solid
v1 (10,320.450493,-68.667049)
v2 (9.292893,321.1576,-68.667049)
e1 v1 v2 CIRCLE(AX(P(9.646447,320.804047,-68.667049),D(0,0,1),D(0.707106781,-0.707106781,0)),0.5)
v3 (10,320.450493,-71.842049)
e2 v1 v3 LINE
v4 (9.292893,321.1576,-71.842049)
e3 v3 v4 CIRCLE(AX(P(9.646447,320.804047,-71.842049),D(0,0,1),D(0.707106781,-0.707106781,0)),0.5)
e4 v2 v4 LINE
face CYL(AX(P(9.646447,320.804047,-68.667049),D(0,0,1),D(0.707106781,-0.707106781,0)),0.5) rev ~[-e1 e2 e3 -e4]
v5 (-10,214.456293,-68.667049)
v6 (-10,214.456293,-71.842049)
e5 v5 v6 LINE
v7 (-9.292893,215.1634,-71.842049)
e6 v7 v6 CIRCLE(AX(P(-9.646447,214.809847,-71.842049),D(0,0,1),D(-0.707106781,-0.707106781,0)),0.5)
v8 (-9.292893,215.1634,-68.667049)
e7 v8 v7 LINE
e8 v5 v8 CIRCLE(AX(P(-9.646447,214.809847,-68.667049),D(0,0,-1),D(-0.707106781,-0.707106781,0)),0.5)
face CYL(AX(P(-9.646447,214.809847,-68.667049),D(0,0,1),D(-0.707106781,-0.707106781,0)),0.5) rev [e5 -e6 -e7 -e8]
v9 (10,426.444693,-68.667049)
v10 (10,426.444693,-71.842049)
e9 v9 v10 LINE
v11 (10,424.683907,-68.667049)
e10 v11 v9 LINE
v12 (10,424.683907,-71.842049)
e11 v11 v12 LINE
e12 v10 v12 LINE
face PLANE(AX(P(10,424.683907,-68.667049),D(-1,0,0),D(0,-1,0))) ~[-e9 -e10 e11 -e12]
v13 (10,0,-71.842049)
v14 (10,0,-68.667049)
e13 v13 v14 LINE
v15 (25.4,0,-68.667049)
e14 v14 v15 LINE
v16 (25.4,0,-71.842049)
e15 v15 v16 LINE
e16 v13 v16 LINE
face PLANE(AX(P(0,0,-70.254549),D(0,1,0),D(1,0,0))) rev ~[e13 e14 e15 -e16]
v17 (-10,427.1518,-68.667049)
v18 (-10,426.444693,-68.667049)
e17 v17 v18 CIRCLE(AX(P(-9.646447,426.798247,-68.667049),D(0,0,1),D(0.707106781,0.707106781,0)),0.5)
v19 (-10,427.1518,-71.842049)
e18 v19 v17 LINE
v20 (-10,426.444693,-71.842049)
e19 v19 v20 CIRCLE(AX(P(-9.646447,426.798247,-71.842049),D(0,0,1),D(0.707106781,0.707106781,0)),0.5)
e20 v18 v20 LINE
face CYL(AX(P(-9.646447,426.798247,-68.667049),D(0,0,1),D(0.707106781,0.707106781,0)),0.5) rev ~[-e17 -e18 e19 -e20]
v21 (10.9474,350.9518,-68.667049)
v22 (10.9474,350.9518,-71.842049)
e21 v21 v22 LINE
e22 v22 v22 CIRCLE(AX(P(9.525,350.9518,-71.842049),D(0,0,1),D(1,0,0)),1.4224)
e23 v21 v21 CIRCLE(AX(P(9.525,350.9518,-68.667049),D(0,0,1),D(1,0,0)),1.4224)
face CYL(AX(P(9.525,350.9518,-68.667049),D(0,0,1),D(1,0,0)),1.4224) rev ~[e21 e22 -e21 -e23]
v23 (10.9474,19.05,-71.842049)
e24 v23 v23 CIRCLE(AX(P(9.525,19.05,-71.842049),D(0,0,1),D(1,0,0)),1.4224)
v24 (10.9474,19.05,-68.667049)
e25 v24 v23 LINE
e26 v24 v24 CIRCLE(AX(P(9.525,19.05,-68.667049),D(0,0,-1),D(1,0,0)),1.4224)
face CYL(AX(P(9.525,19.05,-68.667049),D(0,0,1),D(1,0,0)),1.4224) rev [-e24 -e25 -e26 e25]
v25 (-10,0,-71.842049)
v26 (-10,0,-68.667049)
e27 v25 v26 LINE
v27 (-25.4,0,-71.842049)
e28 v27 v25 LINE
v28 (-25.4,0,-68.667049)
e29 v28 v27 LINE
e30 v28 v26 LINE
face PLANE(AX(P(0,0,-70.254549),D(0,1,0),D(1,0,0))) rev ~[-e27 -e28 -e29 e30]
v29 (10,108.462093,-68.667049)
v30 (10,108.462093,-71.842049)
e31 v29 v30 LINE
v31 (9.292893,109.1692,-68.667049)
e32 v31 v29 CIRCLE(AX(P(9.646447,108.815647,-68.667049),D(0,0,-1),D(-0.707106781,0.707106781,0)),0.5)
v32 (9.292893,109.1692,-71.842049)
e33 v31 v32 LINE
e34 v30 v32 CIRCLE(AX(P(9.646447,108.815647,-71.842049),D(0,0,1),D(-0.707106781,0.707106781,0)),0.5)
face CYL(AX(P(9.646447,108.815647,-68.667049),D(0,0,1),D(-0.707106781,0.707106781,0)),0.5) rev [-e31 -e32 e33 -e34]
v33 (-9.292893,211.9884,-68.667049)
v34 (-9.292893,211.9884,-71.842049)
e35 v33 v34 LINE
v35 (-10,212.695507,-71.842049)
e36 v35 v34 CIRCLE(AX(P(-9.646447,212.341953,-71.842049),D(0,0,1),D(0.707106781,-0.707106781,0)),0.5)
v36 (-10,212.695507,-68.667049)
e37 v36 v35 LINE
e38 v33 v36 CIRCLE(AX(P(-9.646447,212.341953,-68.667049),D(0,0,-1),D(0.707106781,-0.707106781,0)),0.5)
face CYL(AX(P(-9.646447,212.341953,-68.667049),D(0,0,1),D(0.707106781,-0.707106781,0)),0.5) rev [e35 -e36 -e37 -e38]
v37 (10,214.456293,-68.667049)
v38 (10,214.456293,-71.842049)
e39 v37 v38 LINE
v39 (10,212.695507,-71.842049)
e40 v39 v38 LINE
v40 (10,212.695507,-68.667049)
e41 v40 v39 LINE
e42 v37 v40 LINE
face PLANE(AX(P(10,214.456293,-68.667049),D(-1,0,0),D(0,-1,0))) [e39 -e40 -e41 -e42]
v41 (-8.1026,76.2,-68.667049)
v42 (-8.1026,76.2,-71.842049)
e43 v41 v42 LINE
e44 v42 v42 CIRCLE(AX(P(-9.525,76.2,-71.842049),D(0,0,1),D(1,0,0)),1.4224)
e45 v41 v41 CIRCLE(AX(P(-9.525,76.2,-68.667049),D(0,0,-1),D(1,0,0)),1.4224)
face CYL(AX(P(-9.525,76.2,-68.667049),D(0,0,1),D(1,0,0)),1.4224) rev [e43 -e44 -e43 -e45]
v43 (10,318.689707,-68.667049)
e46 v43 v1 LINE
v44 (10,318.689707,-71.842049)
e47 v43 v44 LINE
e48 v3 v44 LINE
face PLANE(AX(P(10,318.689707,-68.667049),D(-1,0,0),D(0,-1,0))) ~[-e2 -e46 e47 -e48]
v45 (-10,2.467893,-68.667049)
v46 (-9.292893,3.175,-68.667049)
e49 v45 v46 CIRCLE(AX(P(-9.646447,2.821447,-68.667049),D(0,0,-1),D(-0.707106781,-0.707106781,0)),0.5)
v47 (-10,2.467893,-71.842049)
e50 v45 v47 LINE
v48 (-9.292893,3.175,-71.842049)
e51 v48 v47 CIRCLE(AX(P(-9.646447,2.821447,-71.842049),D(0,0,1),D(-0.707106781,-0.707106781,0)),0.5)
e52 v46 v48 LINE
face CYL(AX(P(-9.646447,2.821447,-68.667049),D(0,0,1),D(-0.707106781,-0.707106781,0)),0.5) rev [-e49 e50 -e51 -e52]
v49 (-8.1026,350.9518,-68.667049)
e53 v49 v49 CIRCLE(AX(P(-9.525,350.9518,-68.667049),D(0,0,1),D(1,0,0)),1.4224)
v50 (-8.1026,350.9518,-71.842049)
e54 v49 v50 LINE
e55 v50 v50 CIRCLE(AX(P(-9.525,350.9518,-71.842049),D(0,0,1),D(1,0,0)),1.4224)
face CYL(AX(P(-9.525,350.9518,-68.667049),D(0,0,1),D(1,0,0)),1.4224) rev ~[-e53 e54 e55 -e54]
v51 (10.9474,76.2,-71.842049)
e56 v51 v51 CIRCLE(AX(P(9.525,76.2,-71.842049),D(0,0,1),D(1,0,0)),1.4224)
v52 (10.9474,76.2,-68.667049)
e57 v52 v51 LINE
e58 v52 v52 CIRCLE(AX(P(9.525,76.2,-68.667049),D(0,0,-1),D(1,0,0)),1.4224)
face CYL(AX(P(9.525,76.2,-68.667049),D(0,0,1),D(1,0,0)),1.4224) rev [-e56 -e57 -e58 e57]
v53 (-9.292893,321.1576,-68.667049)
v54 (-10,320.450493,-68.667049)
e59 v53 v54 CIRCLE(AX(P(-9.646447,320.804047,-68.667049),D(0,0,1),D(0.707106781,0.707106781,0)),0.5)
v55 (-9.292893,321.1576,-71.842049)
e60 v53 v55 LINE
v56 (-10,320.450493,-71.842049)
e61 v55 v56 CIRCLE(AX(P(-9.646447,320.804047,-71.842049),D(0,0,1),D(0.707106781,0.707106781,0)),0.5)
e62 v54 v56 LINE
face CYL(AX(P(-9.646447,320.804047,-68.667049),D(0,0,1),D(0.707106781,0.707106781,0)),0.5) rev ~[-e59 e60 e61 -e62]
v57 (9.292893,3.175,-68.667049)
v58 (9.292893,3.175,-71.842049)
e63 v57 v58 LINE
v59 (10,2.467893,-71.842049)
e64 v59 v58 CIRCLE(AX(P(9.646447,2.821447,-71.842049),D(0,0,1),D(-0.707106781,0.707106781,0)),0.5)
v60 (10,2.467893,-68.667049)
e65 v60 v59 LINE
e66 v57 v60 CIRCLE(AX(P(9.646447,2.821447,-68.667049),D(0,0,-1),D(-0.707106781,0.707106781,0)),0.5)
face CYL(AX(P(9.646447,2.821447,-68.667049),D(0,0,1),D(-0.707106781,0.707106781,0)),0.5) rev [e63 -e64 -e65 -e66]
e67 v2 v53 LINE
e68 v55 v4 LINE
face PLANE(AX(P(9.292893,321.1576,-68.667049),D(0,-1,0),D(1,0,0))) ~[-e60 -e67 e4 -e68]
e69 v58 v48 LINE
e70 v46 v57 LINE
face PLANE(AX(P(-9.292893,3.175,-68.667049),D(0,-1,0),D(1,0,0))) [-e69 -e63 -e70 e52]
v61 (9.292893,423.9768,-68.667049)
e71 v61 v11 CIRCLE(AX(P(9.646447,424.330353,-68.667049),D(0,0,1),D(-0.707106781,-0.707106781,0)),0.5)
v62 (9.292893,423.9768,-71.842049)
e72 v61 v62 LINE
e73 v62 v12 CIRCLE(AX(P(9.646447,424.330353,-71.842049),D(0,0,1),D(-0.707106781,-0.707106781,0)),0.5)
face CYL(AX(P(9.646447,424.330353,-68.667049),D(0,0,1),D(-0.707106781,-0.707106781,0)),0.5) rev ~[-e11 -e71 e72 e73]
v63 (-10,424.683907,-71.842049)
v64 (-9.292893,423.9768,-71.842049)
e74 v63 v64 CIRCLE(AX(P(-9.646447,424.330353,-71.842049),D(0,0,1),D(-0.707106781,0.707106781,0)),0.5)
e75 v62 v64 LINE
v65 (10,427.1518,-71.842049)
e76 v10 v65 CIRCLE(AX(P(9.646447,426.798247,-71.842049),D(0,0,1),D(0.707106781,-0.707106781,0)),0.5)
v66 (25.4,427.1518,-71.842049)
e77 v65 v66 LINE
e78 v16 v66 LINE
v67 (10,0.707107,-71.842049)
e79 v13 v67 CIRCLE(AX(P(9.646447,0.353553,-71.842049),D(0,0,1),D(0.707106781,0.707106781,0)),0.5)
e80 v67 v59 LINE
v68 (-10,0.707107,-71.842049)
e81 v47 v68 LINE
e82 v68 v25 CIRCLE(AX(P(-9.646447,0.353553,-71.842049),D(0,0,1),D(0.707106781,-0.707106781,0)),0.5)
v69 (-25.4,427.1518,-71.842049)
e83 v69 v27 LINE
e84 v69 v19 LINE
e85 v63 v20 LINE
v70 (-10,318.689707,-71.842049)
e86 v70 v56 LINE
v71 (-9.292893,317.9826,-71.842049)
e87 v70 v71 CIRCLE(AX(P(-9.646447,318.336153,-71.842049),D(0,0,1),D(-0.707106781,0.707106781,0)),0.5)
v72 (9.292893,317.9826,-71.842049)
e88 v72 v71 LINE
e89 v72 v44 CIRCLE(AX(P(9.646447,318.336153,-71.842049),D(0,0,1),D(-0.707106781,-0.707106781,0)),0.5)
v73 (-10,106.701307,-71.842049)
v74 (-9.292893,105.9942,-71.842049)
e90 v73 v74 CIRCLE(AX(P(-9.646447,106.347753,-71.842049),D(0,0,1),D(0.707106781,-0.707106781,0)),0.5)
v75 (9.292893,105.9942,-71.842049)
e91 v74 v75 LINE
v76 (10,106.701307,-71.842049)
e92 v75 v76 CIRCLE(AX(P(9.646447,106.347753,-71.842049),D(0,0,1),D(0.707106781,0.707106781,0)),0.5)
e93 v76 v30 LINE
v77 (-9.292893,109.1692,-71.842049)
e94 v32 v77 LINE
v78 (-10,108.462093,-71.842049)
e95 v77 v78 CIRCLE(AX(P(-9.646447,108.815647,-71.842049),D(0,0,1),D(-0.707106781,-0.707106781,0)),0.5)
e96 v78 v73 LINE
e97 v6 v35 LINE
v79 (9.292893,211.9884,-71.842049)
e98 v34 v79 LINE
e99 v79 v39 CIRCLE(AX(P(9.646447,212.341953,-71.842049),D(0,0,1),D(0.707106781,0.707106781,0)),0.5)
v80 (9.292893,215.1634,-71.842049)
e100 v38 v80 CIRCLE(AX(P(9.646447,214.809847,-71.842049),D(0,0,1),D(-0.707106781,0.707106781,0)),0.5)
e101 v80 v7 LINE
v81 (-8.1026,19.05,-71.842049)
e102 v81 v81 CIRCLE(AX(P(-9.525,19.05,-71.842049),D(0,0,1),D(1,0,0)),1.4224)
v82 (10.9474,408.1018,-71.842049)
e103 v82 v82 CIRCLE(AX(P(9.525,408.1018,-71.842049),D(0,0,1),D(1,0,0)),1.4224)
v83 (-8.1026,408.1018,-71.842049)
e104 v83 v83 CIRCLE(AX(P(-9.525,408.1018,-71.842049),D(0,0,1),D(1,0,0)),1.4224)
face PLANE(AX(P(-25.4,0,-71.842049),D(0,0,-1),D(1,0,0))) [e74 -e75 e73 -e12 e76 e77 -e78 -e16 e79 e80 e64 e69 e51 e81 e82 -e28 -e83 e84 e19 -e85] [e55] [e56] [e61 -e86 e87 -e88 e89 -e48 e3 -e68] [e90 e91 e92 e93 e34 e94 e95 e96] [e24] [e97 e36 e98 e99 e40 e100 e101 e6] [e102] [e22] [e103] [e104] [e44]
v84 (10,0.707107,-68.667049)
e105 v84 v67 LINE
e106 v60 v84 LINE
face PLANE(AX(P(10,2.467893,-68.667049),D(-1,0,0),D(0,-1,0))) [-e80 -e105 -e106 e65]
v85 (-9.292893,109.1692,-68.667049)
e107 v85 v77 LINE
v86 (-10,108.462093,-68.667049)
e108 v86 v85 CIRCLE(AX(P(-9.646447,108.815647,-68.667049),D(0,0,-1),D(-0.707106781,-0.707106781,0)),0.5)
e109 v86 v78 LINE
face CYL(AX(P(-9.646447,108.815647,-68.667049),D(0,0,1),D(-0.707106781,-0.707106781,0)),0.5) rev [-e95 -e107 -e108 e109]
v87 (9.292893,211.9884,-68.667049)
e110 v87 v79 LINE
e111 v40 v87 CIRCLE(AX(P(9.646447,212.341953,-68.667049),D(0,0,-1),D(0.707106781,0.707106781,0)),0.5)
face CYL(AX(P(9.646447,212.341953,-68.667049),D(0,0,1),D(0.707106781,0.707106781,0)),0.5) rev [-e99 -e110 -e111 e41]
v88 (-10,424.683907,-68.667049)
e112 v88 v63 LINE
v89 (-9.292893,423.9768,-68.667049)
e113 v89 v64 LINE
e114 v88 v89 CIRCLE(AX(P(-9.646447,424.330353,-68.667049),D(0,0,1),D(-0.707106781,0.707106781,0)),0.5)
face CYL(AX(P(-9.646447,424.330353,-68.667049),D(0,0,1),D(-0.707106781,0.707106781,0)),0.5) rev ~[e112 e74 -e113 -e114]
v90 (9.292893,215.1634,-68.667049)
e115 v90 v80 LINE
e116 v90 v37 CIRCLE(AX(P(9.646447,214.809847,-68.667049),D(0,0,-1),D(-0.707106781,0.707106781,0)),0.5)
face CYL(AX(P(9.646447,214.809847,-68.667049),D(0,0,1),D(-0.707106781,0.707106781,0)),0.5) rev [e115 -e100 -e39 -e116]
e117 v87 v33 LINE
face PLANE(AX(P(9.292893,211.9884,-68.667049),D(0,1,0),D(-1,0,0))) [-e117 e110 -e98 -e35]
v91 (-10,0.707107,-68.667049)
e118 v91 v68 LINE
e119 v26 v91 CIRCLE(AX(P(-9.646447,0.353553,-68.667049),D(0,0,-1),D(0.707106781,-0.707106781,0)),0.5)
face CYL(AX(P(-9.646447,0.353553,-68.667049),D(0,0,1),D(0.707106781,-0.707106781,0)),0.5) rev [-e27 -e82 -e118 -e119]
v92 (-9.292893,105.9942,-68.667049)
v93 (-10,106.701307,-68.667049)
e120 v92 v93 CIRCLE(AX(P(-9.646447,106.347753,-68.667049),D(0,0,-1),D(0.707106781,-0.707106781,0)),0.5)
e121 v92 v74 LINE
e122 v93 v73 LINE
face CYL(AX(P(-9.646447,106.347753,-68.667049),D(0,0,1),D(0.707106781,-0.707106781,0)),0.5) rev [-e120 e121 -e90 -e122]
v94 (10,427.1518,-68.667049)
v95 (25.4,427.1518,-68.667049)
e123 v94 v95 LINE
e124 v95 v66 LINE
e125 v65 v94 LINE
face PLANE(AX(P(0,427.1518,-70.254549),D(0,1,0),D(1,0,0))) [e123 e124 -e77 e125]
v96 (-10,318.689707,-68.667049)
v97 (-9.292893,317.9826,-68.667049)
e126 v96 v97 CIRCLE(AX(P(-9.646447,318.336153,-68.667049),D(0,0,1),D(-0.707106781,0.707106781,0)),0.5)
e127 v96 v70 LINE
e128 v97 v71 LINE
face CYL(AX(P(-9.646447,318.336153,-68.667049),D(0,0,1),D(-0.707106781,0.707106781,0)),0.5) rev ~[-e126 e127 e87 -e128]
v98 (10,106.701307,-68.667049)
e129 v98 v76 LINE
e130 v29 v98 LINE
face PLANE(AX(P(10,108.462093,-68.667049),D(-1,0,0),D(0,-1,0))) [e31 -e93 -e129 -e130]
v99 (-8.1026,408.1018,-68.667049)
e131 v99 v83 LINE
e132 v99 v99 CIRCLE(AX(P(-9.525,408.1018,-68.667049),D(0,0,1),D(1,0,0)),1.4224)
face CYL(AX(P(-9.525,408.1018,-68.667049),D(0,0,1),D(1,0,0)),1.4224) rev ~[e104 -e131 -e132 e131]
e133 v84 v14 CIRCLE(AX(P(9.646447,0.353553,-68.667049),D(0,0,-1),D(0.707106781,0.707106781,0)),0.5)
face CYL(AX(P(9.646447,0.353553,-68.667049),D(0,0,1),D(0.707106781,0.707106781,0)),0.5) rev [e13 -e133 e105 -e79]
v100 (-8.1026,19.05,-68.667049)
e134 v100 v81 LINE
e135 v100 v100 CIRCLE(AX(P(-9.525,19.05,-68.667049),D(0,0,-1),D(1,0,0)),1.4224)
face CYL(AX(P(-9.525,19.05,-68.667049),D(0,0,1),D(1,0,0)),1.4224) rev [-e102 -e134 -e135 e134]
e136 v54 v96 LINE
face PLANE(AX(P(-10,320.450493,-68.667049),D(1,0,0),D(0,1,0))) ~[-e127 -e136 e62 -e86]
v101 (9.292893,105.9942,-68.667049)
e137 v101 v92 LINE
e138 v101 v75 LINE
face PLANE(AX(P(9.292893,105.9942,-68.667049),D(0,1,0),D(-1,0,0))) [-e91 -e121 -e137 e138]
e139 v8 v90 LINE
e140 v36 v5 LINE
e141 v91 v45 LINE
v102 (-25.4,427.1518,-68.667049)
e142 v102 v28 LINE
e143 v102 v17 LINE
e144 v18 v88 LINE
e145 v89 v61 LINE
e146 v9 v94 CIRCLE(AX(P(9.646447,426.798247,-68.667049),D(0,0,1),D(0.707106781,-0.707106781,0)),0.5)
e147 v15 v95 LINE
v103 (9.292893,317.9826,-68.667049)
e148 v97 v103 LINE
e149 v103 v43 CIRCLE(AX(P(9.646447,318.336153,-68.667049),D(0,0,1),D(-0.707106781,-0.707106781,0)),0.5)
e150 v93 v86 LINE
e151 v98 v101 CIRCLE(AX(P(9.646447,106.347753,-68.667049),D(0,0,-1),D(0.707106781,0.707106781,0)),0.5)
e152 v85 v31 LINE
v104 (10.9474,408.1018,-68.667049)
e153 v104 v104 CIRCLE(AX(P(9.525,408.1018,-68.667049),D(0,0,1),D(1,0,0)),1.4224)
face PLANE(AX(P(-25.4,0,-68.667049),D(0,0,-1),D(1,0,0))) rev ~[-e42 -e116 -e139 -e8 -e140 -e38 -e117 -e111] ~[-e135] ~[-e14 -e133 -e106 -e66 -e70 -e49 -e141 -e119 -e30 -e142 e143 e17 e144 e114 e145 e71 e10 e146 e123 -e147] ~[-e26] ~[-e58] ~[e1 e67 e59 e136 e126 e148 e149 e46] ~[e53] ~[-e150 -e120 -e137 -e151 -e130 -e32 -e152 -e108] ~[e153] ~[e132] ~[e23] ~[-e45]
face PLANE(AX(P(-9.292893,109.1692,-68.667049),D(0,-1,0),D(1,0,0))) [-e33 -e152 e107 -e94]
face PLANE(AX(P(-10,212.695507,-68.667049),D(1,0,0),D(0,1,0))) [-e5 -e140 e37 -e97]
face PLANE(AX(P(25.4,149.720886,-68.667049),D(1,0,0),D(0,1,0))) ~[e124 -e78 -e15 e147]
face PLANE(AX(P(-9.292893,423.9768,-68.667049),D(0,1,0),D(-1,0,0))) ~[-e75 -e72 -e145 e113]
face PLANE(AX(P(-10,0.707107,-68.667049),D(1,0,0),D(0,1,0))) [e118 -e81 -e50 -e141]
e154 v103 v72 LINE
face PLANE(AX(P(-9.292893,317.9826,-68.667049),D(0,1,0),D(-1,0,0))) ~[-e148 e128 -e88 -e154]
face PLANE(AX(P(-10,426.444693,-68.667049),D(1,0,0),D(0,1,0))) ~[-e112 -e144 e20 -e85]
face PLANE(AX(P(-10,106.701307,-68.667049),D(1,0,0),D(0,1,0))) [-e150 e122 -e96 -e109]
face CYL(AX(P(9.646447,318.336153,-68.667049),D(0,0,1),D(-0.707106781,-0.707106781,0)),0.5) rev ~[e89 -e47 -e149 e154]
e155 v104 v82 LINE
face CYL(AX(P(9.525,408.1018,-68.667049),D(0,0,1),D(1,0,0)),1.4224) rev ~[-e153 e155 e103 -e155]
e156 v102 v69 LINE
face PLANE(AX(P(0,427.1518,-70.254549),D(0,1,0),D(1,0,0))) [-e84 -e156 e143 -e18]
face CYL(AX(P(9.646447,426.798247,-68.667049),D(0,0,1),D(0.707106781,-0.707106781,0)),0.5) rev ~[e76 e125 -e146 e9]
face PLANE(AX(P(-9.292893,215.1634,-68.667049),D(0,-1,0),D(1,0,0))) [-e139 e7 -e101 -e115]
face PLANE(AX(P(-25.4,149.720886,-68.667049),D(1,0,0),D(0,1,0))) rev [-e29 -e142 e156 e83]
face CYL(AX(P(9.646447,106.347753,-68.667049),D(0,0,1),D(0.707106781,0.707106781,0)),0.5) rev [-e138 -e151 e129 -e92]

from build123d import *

# Parameters (mm, degrees)
SKETCH1_W           = 50.8
SKETCH1_H           = 3.175
BOSS_EXTRUDE1_DEPTH = 427.1518
SKETCH4_R           = 1.4224
CUT_EXTRUDE2_DEPTH  = 5.08
SKETCH5_W           = 12.58267919
SKETCH5_H           = 101.029760921
BOSS_EXTRUDE2_DEPTH = 3.175
SKETCH6_W           = 7.546607927
SKETCH6_H           = 108.671154153
SKETCH6_W_2         = 9.055929513
BOSS_EXTRUDE3_DEPTH = 3.175
SKETCH7_W           = 50.8
SKETCH7_H           = 16.51
BOSS_EXTRUDE4_DEPTH = 3.175
SKETCH8_W           = 50.8
SKETCH8_H           = 51.188017092
BOSS_EXTRUDE5_DEPTH = 3.175
SKETCH9_W           = 50.8
SKETCH9_H           = 70.169066632
BOSS_EXTRUDE6_DEPTH = 3.175
CUT_EXTRUDE3_DEPTH  = 428.918100655


with BuildPart() as part:
    # Sketch1 → Boss-Extrude1 (new body)
    with BuildSketch(Plane(origin=(0, 0, 0), x_dir=(1, 0, 0), z_dir=(0, 1, 0))):
        with Locations((0, 70.254548969)):
            Rectangle(SKETCH1_W, SKETCH1_H)
    extrude(amount=BOSS_EXTRUDE1_DEPTH)

    # Sketch4 → Cut-Extrude2 (cut)
    with BuildSketch(Plane.XY.offset(-68.667048969)):
        with Locations((-3.175, 376.3518)):
            Circle(SKETCH4_R)
        with Locations((-9.525, 376.3518)):
            Circle(SKETCH4_R)
        with Locations((-9.525, 370.0018)):
            Circle(SKETCH4_R)
        with Locations((-9.525, 363.6518)):
            Circle(SKETCH4_R)
        with Locations((-9.525, 357.3018)):
            Circle(SKETCH4_R)
        with Locations((-9.525, 350.9518)):
            Circle(SKETCH4_R)
        with Locations((-9.525, 344.6018)):
            Circle(SKETCH4_R)
        with Locations((-9.525, 338.2518)):
            Circle(SKETCH4_R)
        with Locations((-9.525, 331.9018)):
            Circle(SKETCH4_R)
        with Locations((-9.525, 325.5518)):
            Circle(SKETCH4_R)
        with Locations((-9.525, 319.2018)):
            Circle(SKETCH4_R)
        with Locations((-9.525, 312.8518)):
            Circle(SKETCH4_R)
        with Locations((-9.525, 306.5018)):
            Circle(SKETCH4_R)
        with Locations((-9.525, 300.1518)):
            Circle(SKETCH4_R)
        with Locations((-9.525, 293.8018)):
            Circle(SKETCH4_R)
        with Locations((-9.525, 287.4518)):
            Circle(SKETCH4_R)
        with Locations((-9.525, 281.1018)):
            Circle(SKETCH4_R)
        with Locations((-3.175, 370.0018)):
            Circle(SKETCH4_R)
        with Locations((-3.175, 363.6518)):
            Circle(SKETCH4_R)
        with Locations((-3.175, 357.3018)):
            Circle(SKETCH4_R)
        with Locations((-3.175, 350.9518)):
            Circle(SKETCH4_R)
        with Locations((-3.175, 344.6018)):
            Circle(SKETCH4_R)
        with Locations((-3.175, 338.2518)):
            Circle(SKETCH4_R)
        with Locations((-3.175, 331.9018)):
            Circle(SKETCH4_R)
        with Locations((-3.175, 325.5518)):
            Circle(SKETCH4_R)
        with Locations((-3.175, 319.2018)):
            Circle(SKETCH4_R)
        with Locations((-3.175, 312.8518)):
            Circle(SKETCH4_R)
        with Locations((-3.175, 306.5018)):
            Circle(SKETCH4_R)
        with Locations((-3.175, 300.1518)):
            Circle(SKETCH4_R)
        with Locations((-3.175, 293.8018)):
            Circle(SKETCH4_R)
        with Locations((-3.175, 287.4518)):
            Circle(SKETCH4_R)
        with Locations((-3.175, 281.1018)):
            Circle(SKETCH4_R)
        with Locations((3.175, 281.1018)):
            Circle(SKETCH4_R)
        with Locations((3.175, 287.4518)):
            Circle(SKETCH4_R)
        with Locations((3.175, 293.8018)):
            Circle(SKETCH4_R)
        with Locations((3.175, 300.1518)):
            Circle(SKETCH4_R)
        with Locations((3.175, 306.5018)):
            Circle(SKETCH4_R)
        with Locations((3.175, 312.8518)):
            Circle(SKETCH4_R)
        with Locations((3.175, 319.2018)):
            Circle(SKETCH4_R)
        with Locations((3.175, 325.5518)):
            Circle(SKETCH4_R)
        with Locations((3.175, 331.9018)):
            Circle(SKETCH4_R)
        with Locations((3.175, 338.2518)):
            Circle(SKETCH4_R)
        with Locations((3.175, 344.6018)):
            Circle(SKETCH4_R)
        with Locations((3.175, 350.9518)):
            Circle(SKETCH4_R)
        with Locations((3.175, 357.3018)):
            Circle(SKETCH4_R)
        with Locations((3.175, 363.6518)):
            Circle(SKETCH4_R)
        with Locations((3.175, 370.0018)):
            Circle(SKETCH4_R)
        with Locations((9.525, 281.1018)):
            Circle(SKETCH4_R)
        with Locations((9.525, 287.4518)):
            Circle(SKETCH4_R)
        with Locations((9.525, 293.8018)):
            Circle(SKETCH4_R)
        with Locations((9.525, 300.1518)):
            Circle(SKETCH4_R)
        with Locations((9.525, 306.5018)):
            Circle(SKETCH4_R)
        with Locations((9.525, 312.8518)):
            Circle(SKETCH4_R)
        with Locations((9.525, 319.2018)):
            Circle(SKETCH4_R)
        with Locations((9.525, 325.5518)):
            Circle(SKETCH4_R)
        with Locations((9.525, 331.9018)):
            Circle(SKETCH4_R)
        with Locations((9.525, 338.2518)):
            Circle(SKETCH4_R)
        with Locations((9.525, 344.6018)):
            Circle(SKETCH4_R)
        with Locations((9.525, 350.9518)):
            Circle(SKETCH4_R)
        with Locations((9.525, 357.3018)):
            Circle(SKETCH4_R)
        with Locations((9.525, 363.6518)):
            Circle(SKETCH4_R)
        with Locations((9.525, 370.0018)):
            Circle(SKETCH4_R)
        with Locations((9.525, 376.3518)):
            Circle(SKETCH4_R)
        with Locations((3.175, 376.3518)):
            Circle(SKETCH4_R)
        with Locations((-9.525, 382.7018)):
            Circle(SKETCH4_R)
        with Locations((9.525, 382.7018)):
            Circle(SKETCH4_R)
        with Locations((-9.525, 389.0518)):
            Circle(SKETCH4_R)
        with Locations((9.525, 389.0518)):
            Circle(SKETCH4_R)
        with Locations((-9.525, 395.4018)):
            Circle(SKETCH4_R)
        with Locations((9.525, 395.4018)):
            Circle(SKETCH4_R)
        with Locations((-9.525, 401.7518)):
            Circle(SKETCH4_R)
        with Locations((9.525, 401.7518)):
            Circle(SKETCH4_R)
        with Locations((-9.525, 408.1018)):
            Circle(SKETCH4_R)
        with Locations((9.525, 408.1018)):
            Circle(SKETCH4_R)
        with Locations((-9.525, 414.4518)):
            Circle(SKETCH4_R)
        with Locations((9.525, 414.4518)):
            Circle(SKETCH4_R)
    cut_extrude2 = extrude(amount=-CUT_EXTRUDE2_DEPTH, mode=Mode.SUBTRACT)

    # Sketch5 → Boss-Extrude2 (add)
    with BuildSketch(Plane.XY.offset(-68.667048969)):
        with Locations((-0.175223229, 328.362881378)):
            Rectangle(SKETCH5_W, SKETCH5_H)
    boss_extrude2 = extrude(amount=-BOSS_EXTRUDE2_DEPTH)

    # Sketch6 → Boss-Extrude3 (add)
    with BuildSketch(Plane.XY.offset(-68.667048969)):
        with Locations((-16.484092579, 326.705642943)):
            Rectangle(SKETCH6_W, SKETCH6_H)
        with Locations((16.9725359, 326.705642943)):
            Rectangle(SKETCH6_W_2, SKETCH6_H)
    boss_extrude3 = extrude(amount=-BOSS_EXTRUDE3_DEPTH)

    # Sketch7 → Boss-Extrude4 (add)
    with BuildSketch(Plane.XY.offset(-68.667048969)):
        with Locations((0, 418.8968)):
            Rectangle(SKETCH7_W, SKETCH7_H)
    boss_extrude4 = extrude(amount=-BOSS_EXTRUDE4_DEPTH)

    # Sketch8 → Boss-Extrude5 (add)
    with BuildSketch(Plane.XY.offset(-68.667048969)):
        with Locations((0, 379.332910144)):
            Rectangle(SKETCH8_W, SKETCH8_H)
    boss_extrude5 = extrude(amount=-BOSS_EXTRUDE5_DEPTH)

    # Sketch9 → Boss-Extrude6 (add)
    with BuildSketch(Plane.XY.offset(-68.667048969)):
        with Locations((0, 312.515447534)):
            Rectangle(SKETCH9_W, SKETCH9_H)
    boss_extrude6 = extrude(amount=-BOSS_EXTRUDE6_DEPTH)

    # Mirror1: Cut-Extrude2, Boss-Extrude2, Boss-Extrude3, Boss-Extrude4, Boss-Extrude5, Boss-Extrude6 across plane
    add(cut_extrude2.mirror(Plane.ZX.offset(213.5759)), mode=Mode.SUBTRACT)
    add(boss_extrude2.mirror(Plane.ZX.offset(213.5759)))
    add(boss_extrude3.mirror(Plane.ZX.offset(213.5759)))
    add(boss_extrude4.mirror(Plane.ZX.offset(213.5759)))
    add(boss_extrude5.mirror(Plane.ZX.offset(213.5759)))
    add(boss_extrude6.mirror(Plane.ZX.offset(213.5759)))

    # Sketch11 → Cut-Extrude3 (cut, through all)
    with BuildSketch(Plane.XY.offset(-68.667048969)):
        with BuildLine():
            Line((9.292893219, 105.9942), (-9.292893219, 105.9942))
            ThreePointArc((-9.292893219, 105.9942), (-10, 105.9942), (-10, 106.701306781))
            Line((-10, 106.701306781), (-10, 108.462093219))
            ThreePointArc((-10, 108.462093219), (-10, 109.1692), (-9.292893219, 109.1692))
            Line((-9.292893219, 109.1692), (9.292893219, 109.1692))
            ThreePointArc((9.292893219, 109.1692), (10, 109.1692), (10, 108.462093219))
            Line((10, 108.462093219), (10, 106.701306781))
            ThreePointArc((10, 106.701306781), (10, 105.9942), (9.292893219, 105.9942))
        make_face()
        with BuildLine():
            Line((9.292893219, 0), (-9.292893219, 0))
            ThreePointArc((-9.292893219, 0), (-10, 0), (-10, 0.707106781))
            Line((-10, 0.707106781), (-10, 2.467893219))
            ThreePointArc((-10, 2.467893219), (-10, 3.175), (-9.292893219, 3.175))
            Line((-9.292893219, 3.175), (9.292893219, 3.175))
            ThreePointArc((9.292893219, 3.175), (10, 3.175), (10, 2.467893219))
            Line((10, 2.467893219), (10, 0.707106781))
            ThreePointArc((10, 0.707106781), (10, 0), (9.292893219, 0))
        make_face()
        with BuildLine():
            Line((9.292893219, 211.9884), (-9.292893219, 211.9884))
            ThreePointArc((-9.292893219, 211.9884), (-10, 211.9884), (-10, 212.695506781))
            Line((-10, 212.695506781), (-10, 214.456293219))
            ThreePointArc((-10, 214.456293219), (-10, 215.1634), (-9.292893219, 215.1634))
            Line((-9.292893219, 215.1634), (9.292893219, 215.1634))
            ThreePointArc((9.292893219, 215.1634), (10, 215.1634), (10, 214.456293219))
            Line((10, 214.456293219), (10, 212.695506781))
            ThreePointArc((10, 212.695506781), (10, 211.9884), (9.292893219, 211.9884))
        make_face()
    cut_extrude3 = extrude(amount=-CUT_EXTRUDE3_DEPTH, mode=Mode.SUBTRACT)

    # Mirror2: Cut-Extrude3 across plane
    add(cut_extrude3.mirror(Plane(origin=(0, 213.5759, 0), x_dir=(0, 0, 1), z_dir=(0, -1, 0))), mode=Mode.SUBTRACT)


solid = part.part
